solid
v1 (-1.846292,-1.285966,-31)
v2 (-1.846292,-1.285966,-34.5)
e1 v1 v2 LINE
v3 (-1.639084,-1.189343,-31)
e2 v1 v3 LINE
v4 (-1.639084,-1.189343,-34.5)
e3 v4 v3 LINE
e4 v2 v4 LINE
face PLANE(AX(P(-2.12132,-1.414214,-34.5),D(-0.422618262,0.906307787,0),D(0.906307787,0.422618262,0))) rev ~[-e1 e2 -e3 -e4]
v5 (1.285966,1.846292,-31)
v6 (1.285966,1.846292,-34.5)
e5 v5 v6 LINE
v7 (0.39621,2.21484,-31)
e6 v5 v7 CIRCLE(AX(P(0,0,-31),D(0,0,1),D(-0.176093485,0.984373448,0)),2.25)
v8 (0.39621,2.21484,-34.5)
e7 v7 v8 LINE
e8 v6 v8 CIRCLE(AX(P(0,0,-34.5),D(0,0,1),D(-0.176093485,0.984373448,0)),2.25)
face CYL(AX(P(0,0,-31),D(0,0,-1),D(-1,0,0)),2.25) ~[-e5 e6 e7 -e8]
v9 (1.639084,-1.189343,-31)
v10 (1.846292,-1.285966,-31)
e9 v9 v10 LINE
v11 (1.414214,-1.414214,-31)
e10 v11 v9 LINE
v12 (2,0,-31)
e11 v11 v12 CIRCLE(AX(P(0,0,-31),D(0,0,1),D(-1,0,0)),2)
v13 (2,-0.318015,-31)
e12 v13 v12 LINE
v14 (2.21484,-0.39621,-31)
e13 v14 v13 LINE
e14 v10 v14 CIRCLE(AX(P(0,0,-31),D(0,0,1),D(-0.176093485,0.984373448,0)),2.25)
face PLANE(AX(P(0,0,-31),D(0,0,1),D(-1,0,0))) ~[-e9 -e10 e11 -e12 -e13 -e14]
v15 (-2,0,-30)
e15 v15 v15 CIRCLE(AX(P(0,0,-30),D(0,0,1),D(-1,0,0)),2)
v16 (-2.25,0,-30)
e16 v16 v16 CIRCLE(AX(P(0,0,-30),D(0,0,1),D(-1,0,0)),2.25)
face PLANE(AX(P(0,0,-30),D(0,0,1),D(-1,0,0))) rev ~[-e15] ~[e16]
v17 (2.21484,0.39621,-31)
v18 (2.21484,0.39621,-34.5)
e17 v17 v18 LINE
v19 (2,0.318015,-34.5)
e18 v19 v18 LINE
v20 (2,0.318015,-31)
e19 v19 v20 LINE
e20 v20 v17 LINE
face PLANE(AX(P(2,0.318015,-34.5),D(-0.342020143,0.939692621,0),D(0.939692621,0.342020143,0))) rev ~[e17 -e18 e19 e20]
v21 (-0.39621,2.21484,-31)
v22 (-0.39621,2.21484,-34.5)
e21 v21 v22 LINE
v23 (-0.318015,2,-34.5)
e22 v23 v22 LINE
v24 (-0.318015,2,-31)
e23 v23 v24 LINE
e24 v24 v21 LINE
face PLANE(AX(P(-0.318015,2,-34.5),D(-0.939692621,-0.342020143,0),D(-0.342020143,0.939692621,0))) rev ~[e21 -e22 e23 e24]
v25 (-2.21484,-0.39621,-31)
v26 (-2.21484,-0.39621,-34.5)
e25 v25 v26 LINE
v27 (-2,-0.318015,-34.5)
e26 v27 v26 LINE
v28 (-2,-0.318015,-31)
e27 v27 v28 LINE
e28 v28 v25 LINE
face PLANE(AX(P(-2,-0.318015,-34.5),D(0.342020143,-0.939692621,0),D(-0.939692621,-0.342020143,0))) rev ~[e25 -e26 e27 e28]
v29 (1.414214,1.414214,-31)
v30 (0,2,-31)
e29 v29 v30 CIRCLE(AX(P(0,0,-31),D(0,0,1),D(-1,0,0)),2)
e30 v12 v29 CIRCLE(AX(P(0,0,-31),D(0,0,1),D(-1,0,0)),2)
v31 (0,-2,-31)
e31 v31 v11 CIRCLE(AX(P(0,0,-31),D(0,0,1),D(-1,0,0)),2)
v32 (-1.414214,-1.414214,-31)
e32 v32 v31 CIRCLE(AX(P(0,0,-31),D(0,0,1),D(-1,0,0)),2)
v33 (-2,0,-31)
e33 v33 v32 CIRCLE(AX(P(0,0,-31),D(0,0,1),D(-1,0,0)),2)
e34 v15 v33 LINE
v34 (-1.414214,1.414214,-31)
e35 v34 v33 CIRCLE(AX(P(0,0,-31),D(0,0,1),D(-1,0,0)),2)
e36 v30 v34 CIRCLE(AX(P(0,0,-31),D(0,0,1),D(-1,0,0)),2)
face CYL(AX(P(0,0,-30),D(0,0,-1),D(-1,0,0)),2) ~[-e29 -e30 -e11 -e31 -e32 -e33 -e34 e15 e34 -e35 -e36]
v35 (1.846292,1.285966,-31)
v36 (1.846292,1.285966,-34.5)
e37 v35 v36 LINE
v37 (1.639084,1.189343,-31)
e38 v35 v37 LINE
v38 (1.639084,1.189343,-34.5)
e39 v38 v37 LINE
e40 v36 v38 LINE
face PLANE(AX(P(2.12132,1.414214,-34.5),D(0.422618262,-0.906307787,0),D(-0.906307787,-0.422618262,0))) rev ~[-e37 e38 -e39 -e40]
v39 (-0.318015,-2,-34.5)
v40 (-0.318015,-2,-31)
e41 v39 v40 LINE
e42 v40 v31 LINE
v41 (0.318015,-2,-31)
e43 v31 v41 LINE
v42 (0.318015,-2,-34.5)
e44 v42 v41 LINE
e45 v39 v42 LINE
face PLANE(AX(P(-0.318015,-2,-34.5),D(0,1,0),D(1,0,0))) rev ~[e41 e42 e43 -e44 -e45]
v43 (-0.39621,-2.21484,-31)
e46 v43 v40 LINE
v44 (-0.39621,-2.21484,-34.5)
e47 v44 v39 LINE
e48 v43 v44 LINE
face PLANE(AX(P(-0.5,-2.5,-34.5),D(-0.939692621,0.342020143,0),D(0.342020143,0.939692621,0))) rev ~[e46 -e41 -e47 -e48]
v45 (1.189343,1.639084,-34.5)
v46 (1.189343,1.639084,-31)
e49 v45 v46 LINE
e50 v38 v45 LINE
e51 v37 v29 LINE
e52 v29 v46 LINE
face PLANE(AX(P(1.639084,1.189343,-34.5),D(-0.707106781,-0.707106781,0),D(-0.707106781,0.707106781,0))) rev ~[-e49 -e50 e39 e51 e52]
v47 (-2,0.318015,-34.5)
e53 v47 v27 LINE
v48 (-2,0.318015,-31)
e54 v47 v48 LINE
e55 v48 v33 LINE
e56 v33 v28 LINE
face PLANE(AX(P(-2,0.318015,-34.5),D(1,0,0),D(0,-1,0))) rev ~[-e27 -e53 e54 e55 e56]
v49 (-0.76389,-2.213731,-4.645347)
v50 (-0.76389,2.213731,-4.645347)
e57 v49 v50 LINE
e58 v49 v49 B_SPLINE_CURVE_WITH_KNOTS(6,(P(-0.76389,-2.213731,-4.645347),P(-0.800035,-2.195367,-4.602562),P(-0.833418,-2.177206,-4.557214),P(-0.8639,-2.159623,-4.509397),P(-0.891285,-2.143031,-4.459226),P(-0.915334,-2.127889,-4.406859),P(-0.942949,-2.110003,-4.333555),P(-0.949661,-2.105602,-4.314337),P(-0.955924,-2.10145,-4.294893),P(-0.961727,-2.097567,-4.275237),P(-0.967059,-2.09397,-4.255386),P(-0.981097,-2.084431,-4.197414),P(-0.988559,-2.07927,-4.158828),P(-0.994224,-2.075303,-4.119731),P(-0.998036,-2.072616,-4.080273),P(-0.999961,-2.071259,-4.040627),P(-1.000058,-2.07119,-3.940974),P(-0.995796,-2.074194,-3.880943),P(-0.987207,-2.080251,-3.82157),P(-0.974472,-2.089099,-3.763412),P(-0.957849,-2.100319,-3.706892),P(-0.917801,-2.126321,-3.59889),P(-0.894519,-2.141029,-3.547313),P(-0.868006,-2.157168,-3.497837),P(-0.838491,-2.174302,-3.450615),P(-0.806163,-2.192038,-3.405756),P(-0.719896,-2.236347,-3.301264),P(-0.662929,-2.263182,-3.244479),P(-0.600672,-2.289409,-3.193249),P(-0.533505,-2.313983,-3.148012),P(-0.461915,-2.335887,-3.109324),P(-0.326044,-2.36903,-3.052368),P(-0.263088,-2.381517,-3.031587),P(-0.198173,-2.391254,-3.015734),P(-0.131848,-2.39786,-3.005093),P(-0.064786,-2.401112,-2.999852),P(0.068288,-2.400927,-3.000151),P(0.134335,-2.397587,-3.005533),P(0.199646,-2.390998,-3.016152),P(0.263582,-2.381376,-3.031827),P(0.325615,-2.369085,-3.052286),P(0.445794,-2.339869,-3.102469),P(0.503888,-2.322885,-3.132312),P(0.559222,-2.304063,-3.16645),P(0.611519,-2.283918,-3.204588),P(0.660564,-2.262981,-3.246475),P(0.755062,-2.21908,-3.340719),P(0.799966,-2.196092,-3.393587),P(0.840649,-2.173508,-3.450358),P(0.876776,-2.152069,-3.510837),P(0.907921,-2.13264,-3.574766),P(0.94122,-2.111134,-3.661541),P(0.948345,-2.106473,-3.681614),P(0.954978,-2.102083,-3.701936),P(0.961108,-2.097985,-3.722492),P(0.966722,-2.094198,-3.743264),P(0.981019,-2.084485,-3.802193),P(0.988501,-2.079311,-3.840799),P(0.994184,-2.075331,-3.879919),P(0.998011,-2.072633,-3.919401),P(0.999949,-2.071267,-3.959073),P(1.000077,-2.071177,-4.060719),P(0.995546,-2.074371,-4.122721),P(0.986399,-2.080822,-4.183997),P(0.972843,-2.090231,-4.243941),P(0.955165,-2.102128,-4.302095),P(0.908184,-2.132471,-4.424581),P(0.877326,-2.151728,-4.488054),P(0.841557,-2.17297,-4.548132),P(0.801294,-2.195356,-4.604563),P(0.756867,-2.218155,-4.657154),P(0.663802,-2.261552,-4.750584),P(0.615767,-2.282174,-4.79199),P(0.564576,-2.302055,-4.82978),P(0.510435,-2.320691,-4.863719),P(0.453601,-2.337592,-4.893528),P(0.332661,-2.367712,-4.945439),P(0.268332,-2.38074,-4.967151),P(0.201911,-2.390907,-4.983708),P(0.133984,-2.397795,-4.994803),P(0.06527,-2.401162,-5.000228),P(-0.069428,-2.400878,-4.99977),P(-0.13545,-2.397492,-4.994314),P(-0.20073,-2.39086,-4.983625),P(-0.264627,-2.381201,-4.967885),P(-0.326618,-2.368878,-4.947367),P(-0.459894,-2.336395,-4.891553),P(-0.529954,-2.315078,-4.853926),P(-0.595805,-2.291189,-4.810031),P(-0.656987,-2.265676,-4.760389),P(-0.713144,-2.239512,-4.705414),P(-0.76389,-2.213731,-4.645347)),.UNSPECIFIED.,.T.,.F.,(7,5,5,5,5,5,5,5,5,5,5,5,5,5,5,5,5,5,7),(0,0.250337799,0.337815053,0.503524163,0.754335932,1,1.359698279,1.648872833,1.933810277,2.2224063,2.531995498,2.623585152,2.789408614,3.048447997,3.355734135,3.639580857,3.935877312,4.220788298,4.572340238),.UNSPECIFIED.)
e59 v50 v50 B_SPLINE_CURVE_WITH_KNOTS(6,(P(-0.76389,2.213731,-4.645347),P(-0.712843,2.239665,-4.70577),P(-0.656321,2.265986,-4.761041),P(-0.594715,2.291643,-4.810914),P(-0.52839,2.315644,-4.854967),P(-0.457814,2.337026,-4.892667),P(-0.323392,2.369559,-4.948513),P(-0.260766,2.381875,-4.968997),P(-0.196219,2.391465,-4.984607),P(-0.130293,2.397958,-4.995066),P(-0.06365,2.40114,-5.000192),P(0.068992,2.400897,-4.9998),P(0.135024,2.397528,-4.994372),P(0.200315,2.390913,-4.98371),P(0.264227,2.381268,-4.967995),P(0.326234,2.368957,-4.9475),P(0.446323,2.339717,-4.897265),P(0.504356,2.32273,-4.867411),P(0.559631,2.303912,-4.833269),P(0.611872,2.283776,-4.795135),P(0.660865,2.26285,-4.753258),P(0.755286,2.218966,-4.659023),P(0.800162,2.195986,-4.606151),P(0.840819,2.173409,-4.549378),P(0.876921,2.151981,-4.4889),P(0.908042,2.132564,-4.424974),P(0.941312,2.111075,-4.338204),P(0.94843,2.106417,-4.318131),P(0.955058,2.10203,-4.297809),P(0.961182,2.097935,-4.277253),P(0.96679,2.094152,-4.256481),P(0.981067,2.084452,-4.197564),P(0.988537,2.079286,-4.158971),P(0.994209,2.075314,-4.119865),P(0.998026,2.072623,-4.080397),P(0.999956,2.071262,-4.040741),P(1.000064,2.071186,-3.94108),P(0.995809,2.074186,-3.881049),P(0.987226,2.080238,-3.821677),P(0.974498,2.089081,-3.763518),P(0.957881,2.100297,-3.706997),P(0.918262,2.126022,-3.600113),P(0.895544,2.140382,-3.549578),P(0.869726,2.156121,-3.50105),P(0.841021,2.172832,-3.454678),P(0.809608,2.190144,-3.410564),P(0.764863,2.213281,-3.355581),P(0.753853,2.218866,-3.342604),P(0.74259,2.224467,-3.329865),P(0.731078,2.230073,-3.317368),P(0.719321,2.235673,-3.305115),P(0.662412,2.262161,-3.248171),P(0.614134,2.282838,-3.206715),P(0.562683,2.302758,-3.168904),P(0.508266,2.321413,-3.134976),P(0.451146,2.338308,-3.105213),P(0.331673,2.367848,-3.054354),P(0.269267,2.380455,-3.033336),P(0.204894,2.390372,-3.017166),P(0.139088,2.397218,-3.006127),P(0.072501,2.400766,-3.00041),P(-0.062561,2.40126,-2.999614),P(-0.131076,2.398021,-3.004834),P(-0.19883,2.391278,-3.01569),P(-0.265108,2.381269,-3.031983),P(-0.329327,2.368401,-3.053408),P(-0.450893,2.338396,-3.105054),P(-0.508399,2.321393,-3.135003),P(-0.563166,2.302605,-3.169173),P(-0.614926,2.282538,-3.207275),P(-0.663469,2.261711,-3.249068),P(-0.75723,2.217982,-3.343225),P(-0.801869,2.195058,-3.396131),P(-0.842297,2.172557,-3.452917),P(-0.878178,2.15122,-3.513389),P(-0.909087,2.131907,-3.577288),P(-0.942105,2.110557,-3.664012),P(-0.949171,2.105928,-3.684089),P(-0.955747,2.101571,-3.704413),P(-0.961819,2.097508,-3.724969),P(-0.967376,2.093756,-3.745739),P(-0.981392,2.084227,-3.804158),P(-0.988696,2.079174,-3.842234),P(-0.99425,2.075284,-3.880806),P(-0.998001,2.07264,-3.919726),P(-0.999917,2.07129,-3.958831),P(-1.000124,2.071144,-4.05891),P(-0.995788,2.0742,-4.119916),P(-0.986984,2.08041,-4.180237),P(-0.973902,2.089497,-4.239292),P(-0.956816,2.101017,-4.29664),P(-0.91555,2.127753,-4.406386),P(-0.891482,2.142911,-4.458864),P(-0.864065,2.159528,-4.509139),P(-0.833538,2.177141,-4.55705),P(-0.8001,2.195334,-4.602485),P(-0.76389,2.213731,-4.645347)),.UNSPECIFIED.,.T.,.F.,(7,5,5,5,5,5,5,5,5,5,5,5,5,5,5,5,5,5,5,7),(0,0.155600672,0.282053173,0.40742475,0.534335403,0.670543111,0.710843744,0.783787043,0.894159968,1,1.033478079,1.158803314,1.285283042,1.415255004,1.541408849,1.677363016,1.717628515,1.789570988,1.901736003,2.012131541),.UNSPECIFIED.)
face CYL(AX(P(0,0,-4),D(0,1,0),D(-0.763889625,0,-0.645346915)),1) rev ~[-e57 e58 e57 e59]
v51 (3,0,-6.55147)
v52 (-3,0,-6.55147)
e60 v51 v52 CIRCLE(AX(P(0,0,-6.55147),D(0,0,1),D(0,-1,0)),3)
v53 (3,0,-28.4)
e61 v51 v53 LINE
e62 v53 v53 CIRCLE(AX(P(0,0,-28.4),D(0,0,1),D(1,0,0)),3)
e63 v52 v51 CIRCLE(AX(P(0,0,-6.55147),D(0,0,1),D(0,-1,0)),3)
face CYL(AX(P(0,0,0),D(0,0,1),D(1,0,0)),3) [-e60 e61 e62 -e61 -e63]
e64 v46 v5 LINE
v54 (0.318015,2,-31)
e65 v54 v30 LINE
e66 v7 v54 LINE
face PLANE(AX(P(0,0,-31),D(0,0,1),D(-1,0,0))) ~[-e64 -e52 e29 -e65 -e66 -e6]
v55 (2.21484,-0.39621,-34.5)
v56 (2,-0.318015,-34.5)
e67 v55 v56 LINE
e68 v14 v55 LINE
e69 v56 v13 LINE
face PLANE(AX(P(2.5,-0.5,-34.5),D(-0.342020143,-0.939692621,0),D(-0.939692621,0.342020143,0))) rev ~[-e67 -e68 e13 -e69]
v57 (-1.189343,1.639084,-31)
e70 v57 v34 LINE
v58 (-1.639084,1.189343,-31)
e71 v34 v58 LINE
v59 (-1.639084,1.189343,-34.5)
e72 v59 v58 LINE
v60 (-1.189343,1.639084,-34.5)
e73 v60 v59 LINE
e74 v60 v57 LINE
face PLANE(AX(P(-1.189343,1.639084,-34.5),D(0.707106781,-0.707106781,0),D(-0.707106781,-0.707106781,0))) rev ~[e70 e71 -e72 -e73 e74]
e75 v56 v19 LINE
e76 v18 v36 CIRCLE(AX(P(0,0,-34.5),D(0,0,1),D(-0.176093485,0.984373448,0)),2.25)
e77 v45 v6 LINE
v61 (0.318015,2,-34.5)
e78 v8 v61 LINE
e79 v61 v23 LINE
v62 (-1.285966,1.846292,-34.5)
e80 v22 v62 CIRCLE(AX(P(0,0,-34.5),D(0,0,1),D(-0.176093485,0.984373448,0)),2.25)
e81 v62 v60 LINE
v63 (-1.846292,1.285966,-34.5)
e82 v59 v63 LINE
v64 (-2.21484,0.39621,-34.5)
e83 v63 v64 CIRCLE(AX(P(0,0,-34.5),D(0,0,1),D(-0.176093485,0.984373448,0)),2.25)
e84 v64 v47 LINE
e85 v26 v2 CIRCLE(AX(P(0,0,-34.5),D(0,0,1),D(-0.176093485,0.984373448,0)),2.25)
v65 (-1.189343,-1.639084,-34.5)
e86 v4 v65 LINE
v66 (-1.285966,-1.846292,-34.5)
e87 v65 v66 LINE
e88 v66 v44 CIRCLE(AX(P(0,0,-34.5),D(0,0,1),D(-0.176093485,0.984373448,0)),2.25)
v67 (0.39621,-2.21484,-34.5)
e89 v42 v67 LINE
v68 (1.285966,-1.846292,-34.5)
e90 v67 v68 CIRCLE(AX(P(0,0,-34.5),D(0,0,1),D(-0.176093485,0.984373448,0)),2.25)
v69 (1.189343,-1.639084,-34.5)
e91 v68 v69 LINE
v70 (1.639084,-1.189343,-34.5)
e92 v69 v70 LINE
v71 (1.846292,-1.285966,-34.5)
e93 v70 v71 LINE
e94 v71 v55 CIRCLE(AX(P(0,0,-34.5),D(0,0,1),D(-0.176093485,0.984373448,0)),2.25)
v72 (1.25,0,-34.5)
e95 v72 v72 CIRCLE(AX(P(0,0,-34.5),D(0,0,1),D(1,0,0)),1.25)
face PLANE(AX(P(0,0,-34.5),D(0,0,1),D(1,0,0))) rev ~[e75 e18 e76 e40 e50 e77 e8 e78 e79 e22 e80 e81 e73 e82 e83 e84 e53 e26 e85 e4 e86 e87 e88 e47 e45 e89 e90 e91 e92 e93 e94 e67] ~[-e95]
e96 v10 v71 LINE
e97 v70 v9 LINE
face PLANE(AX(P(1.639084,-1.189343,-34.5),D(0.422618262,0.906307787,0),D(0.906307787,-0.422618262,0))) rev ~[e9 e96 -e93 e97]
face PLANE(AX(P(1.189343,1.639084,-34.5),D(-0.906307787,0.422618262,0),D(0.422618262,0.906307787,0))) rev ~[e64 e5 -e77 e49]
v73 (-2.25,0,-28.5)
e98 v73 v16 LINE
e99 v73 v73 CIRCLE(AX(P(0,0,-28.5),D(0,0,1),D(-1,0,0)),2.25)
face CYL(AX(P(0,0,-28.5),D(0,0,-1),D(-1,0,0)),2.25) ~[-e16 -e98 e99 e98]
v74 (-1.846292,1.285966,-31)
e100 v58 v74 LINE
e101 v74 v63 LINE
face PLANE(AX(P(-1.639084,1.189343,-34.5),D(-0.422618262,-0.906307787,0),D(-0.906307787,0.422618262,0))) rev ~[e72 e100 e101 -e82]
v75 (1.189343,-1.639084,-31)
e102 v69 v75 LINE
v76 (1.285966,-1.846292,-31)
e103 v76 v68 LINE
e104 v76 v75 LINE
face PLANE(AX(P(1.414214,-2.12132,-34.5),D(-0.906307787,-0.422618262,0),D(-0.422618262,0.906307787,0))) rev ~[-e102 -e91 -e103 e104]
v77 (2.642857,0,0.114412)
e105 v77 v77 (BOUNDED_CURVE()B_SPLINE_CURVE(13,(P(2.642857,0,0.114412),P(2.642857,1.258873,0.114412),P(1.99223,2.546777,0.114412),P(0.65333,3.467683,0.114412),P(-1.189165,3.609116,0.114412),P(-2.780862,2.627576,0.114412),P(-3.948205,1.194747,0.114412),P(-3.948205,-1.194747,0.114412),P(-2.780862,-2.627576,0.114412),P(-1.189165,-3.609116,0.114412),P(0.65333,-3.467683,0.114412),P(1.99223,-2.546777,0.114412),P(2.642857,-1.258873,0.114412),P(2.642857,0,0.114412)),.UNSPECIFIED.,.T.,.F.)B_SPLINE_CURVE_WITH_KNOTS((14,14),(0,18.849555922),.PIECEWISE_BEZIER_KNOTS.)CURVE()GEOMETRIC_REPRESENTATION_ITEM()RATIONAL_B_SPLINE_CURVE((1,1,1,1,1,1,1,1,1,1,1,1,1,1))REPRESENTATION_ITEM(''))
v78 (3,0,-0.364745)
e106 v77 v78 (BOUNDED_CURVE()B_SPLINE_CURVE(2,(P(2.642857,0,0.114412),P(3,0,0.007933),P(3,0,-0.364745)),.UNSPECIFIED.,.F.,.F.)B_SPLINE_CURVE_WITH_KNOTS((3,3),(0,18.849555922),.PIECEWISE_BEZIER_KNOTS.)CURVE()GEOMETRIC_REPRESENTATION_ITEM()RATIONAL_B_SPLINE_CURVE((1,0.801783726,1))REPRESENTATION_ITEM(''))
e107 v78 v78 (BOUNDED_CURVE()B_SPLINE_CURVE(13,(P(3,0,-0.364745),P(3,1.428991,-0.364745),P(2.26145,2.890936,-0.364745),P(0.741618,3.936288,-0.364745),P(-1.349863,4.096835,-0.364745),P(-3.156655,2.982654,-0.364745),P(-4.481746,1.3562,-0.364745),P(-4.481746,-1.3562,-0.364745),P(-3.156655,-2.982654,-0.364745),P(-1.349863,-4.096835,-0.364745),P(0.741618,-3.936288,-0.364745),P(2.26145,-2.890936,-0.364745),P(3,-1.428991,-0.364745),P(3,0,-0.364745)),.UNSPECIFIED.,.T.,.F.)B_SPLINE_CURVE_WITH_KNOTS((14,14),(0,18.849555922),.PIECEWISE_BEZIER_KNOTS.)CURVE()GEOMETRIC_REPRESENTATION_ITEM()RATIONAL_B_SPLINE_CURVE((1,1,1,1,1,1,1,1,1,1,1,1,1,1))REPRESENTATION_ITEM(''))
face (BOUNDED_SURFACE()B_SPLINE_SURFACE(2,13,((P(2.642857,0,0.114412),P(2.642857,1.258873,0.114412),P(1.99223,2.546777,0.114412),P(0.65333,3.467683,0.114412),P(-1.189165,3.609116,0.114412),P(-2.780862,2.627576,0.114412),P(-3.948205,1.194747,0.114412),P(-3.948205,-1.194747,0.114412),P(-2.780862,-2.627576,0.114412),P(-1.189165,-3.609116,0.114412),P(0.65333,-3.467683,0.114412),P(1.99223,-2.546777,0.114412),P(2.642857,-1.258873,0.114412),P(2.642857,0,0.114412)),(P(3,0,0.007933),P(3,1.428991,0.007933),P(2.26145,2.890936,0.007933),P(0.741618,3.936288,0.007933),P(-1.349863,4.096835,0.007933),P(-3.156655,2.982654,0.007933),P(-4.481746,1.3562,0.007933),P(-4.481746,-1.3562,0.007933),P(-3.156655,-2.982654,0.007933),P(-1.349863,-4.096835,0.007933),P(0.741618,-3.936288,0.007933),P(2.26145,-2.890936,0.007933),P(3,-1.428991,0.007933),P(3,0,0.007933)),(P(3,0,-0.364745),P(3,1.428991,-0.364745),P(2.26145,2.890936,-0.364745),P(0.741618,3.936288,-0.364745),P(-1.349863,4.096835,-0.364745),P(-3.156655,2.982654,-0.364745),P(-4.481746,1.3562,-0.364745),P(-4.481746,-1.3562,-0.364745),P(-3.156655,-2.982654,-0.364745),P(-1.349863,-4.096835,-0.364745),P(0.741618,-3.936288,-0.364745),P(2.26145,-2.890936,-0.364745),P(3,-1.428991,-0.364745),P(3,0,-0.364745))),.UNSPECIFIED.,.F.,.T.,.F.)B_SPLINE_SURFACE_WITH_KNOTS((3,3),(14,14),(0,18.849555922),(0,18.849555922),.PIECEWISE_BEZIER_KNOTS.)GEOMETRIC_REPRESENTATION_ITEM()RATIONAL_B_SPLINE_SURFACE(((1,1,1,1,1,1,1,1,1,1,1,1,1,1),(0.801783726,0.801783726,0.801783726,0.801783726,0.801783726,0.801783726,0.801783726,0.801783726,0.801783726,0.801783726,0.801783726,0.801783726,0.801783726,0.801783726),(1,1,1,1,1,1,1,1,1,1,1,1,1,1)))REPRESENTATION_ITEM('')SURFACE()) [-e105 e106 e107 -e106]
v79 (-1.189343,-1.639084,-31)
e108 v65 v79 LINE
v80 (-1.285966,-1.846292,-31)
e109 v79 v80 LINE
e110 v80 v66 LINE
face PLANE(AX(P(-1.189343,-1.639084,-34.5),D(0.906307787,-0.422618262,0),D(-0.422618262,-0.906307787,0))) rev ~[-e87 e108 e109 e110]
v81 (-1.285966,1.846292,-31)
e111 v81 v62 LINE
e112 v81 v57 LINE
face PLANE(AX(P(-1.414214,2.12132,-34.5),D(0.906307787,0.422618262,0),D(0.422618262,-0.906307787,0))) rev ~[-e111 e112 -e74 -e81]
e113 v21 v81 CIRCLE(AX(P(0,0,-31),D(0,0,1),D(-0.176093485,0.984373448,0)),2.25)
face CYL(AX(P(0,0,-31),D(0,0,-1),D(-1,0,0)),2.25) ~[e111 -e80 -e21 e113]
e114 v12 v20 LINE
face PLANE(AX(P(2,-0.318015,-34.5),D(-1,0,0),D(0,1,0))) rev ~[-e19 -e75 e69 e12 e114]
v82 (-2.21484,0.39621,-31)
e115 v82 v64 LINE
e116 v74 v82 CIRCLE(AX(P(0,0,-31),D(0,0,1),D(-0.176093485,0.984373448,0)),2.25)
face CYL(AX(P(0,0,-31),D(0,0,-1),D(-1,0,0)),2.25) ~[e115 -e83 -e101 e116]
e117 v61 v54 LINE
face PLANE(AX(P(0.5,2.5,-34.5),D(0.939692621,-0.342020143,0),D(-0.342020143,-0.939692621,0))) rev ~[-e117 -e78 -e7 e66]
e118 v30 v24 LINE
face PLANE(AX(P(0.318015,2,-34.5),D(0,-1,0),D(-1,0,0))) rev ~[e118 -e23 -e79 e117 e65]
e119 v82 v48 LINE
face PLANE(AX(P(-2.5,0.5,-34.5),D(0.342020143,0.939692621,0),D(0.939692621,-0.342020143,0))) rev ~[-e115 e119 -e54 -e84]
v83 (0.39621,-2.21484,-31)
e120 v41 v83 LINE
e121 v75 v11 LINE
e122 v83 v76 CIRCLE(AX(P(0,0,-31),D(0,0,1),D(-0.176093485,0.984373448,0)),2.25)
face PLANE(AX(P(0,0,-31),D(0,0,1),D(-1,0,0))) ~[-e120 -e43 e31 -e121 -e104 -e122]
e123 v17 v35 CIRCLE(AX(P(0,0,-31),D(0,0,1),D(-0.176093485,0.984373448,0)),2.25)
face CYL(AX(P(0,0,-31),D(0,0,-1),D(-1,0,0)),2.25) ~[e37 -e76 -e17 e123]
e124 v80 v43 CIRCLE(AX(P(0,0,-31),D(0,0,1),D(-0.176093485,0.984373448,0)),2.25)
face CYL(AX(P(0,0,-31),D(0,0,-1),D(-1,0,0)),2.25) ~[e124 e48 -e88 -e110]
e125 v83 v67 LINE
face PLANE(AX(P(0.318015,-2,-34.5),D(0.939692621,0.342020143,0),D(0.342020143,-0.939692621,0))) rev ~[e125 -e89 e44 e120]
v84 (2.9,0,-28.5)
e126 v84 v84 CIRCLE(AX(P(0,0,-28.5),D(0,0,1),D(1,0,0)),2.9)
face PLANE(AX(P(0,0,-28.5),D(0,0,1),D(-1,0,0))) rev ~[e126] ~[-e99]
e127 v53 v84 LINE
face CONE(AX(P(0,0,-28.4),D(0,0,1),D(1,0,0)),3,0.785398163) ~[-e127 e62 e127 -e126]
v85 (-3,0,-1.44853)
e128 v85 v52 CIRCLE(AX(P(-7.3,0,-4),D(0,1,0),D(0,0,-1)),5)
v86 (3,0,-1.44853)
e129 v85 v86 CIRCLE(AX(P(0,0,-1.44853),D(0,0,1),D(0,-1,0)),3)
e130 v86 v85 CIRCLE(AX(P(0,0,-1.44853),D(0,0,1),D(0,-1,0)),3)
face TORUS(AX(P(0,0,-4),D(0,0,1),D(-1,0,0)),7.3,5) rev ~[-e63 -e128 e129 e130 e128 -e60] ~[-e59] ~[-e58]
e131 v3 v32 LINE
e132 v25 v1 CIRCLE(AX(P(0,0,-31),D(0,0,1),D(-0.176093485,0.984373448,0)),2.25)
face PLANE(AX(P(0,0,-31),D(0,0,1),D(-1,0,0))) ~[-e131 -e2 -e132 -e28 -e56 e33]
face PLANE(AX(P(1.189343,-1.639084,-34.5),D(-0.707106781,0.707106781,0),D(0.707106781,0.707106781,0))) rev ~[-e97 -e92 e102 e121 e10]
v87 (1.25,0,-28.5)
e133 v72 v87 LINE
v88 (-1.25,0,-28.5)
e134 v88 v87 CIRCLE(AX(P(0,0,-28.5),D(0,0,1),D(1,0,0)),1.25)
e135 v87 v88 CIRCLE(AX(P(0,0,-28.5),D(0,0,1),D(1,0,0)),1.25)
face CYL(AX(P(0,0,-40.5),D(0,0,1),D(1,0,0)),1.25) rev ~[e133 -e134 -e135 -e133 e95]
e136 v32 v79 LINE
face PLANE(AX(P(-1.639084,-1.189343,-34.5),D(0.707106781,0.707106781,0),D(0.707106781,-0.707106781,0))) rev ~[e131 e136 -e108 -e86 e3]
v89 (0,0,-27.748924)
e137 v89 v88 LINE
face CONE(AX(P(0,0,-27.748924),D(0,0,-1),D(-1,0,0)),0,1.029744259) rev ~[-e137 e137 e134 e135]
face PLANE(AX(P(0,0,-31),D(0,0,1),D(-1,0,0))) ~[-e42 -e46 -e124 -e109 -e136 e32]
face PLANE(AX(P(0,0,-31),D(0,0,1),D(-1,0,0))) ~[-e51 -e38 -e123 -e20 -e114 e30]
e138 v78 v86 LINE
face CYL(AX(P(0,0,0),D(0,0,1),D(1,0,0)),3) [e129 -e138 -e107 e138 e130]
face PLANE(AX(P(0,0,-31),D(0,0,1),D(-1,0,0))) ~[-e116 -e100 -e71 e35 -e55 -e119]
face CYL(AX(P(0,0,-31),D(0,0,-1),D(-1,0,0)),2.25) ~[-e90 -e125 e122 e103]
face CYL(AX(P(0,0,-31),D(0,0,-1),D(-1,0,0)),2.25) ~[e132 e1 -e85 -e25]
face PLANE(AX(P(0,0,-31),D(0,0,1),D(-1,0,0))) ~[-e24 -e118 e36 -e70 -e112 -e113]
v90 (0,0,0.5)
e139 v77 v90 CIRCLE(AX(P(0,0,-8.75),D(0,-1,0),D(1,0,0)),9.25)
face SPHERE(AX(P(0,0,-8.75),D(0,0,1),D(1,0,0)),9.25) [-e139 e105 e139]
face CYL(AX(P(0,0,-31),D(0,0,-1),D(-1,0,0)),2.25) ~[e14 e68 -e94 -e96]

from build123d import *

# Parameters (mm, degrees)
SKETCH1_R                 = 3
BOSS_EXTRUDE1_DEPTH       = 34.5
SKETCH2_R                 = 5
SKETCH3_R                 = 1
CUT_EXTRUDE1_DEPTH        = 3
DOME1_FACE_RADIUS         = 3
DOME1_HEIGHT              = 0.5
CUT_EXTRUDE2_DEPTH        = 3.5
CIRPATTERN1_COUNT         = 8
FILLET1_R                 = 0.5
CHAMFER1_SIZE             = 0.1
M3X0_5_TAPPED_HOLE1_D     = 2.5
M3X0_5_TAPPED_HOLE1_DEPTH = 6
M3X0_5_TAPPED_HOLE1_TIP   = 0.751075774


with BuildPart() as part:
    # Sketch1 → Boss-Extrude1 (new body)
    with BuildSketch(Plane.XY):
        Circle(SKETCH1_R)
    extrude(amount=-BOSS_EXTRUDE1_DEPTH)

    # Sketch2 → Cut-Revolve1 (revolve, cut)
    with BuildSketch(Plane(origin=(0, 0, 0), x_dir=(0, 0, -1), z_dir=(1, 0, 0)), mode=Mode.PRIVATE) as cut_revolve1_sk:
        with Locations((4, 7.3)):
            Circle(SKETCH2_R)
        Polygon((30, 2.25), (30, 2), (31, 2), (31, 2.25), (34.5, 2.25), (34.5, 3), (28.5, 3), (28.5, 2.25), align=None)
    revolve(cut_revolve1_sk.sketch.rotate(Axis((0, 0, -34.5), (0, 0, 1)), 90), axis=Axis((0, 0, -34.5), (0, 0, 1)), mode=Mode.SUBTRACT)

    # Sketch3 → Cut-Extrude1 (cut, symmetric)
    with BuildSketch(Plane(origin=(0, 0, 0), x_dir=(1, 0, 0), z_dir=(0, 1, 0))):
        with Locations(Location((0, 4, 0), (0, 0, 139.808309089))):
            Circle(SKETCH3_R)
    extrude(amount=CUT_EXTRUDE1_DEPTH, both=True, mode=Mode.SUBTRACT)

    # Dome1: a dome of height H over a round flat face of radius A is a cap of a sphere of radius (A * A + H * H) / (2 * H)
    dome1_r = (DOME1_FACE_RADIUS * DOME1_FACE_RADIUS + DOME1_HEIGHT * DOME1_HEIGHT) / (2 * DOME1_HEIGHT)
    dome1_base = Plane((0, 0, 0), z_dir=(0, 0, 1))
    with Locations(dome1_base.offset(DOME1_HEIGHT - dome1_r)):
        dome1_ball = Sphere(dome1_r, mode=Mode.PRIVATE)
    add(split(dome1_ball, bisect_by=dome1_base, keep=Keep.TOP, mode=Mode.PRIVATE))

    # Sketch4 → Cut-Extrude2 (cut)
    with BuildSketch(Plane(origin=(0, 0, -34.5), x_dir=(-1, 0, 0), z_dir=(0, 0, -1))):
        Polygon((-0.5, 2.5), (-0.318014883, 2), (0.318014883, 2), (0.5, 2.5), align=None)
    cut_extrude2 = extrude(amount=-CUT_EXTRUDE2_DEPTH, mode=Mode.SUBTRACT)

    # CirPattern1: Cut-Extrude2 ×8 about axis
    cirpattern1_axis = Axis((0, 0, 0), (0, 0, 1))
    for i in range(1, CIRPATTERN1_COUNT):
        add(cut_extrude2.rotate(cirpattern1_axis, i * 360 / CIRPATTERN1_COUNT), mode=Mode.SUBTRACT)

    # Fillet1
    fillet1_edges = [part.edges().sort_by_distance(p)[0] for p in [
        (-3, 0, 0),
    ]]
    fillet(fillet1_edges, radius=FILLET1_R)

    # Chamfer1
    chamfer1_edges = [part.edges().sort_by_distance(p)[0] for p in [
        (-3, 0, -28.5),
    ]]
    chamfer(chamfer1_edges, length=CHAMFER1_SIZE)

    # M3x0.5 Tapped Hole1
    with Locations(Plane(origin=(0, 0, -34.5), x_dir=(-1, 0, 0), z_dir=(0, 0, -1))):
        with Locations((0, 0)):
            Hole(M3X0_5_TAPPED_HOLE1_D / 2, depth=M3X0_5_TAPPED_HOLE1_DEPTH)
            with Locations((0, 0, -(M3X0_5_TAPPED_HOLE1_DEPTH + M3X0_5_TAPPED_HOLE1_TIP / 2))):  # 118° drill point
                Cone(0, M3X0_5_TAPPED_HOLE1_D / 2, M3X0_5_TAPPED_HOLE1_TIP, mode=Mode.SUBTRACT)


solid = part.part
